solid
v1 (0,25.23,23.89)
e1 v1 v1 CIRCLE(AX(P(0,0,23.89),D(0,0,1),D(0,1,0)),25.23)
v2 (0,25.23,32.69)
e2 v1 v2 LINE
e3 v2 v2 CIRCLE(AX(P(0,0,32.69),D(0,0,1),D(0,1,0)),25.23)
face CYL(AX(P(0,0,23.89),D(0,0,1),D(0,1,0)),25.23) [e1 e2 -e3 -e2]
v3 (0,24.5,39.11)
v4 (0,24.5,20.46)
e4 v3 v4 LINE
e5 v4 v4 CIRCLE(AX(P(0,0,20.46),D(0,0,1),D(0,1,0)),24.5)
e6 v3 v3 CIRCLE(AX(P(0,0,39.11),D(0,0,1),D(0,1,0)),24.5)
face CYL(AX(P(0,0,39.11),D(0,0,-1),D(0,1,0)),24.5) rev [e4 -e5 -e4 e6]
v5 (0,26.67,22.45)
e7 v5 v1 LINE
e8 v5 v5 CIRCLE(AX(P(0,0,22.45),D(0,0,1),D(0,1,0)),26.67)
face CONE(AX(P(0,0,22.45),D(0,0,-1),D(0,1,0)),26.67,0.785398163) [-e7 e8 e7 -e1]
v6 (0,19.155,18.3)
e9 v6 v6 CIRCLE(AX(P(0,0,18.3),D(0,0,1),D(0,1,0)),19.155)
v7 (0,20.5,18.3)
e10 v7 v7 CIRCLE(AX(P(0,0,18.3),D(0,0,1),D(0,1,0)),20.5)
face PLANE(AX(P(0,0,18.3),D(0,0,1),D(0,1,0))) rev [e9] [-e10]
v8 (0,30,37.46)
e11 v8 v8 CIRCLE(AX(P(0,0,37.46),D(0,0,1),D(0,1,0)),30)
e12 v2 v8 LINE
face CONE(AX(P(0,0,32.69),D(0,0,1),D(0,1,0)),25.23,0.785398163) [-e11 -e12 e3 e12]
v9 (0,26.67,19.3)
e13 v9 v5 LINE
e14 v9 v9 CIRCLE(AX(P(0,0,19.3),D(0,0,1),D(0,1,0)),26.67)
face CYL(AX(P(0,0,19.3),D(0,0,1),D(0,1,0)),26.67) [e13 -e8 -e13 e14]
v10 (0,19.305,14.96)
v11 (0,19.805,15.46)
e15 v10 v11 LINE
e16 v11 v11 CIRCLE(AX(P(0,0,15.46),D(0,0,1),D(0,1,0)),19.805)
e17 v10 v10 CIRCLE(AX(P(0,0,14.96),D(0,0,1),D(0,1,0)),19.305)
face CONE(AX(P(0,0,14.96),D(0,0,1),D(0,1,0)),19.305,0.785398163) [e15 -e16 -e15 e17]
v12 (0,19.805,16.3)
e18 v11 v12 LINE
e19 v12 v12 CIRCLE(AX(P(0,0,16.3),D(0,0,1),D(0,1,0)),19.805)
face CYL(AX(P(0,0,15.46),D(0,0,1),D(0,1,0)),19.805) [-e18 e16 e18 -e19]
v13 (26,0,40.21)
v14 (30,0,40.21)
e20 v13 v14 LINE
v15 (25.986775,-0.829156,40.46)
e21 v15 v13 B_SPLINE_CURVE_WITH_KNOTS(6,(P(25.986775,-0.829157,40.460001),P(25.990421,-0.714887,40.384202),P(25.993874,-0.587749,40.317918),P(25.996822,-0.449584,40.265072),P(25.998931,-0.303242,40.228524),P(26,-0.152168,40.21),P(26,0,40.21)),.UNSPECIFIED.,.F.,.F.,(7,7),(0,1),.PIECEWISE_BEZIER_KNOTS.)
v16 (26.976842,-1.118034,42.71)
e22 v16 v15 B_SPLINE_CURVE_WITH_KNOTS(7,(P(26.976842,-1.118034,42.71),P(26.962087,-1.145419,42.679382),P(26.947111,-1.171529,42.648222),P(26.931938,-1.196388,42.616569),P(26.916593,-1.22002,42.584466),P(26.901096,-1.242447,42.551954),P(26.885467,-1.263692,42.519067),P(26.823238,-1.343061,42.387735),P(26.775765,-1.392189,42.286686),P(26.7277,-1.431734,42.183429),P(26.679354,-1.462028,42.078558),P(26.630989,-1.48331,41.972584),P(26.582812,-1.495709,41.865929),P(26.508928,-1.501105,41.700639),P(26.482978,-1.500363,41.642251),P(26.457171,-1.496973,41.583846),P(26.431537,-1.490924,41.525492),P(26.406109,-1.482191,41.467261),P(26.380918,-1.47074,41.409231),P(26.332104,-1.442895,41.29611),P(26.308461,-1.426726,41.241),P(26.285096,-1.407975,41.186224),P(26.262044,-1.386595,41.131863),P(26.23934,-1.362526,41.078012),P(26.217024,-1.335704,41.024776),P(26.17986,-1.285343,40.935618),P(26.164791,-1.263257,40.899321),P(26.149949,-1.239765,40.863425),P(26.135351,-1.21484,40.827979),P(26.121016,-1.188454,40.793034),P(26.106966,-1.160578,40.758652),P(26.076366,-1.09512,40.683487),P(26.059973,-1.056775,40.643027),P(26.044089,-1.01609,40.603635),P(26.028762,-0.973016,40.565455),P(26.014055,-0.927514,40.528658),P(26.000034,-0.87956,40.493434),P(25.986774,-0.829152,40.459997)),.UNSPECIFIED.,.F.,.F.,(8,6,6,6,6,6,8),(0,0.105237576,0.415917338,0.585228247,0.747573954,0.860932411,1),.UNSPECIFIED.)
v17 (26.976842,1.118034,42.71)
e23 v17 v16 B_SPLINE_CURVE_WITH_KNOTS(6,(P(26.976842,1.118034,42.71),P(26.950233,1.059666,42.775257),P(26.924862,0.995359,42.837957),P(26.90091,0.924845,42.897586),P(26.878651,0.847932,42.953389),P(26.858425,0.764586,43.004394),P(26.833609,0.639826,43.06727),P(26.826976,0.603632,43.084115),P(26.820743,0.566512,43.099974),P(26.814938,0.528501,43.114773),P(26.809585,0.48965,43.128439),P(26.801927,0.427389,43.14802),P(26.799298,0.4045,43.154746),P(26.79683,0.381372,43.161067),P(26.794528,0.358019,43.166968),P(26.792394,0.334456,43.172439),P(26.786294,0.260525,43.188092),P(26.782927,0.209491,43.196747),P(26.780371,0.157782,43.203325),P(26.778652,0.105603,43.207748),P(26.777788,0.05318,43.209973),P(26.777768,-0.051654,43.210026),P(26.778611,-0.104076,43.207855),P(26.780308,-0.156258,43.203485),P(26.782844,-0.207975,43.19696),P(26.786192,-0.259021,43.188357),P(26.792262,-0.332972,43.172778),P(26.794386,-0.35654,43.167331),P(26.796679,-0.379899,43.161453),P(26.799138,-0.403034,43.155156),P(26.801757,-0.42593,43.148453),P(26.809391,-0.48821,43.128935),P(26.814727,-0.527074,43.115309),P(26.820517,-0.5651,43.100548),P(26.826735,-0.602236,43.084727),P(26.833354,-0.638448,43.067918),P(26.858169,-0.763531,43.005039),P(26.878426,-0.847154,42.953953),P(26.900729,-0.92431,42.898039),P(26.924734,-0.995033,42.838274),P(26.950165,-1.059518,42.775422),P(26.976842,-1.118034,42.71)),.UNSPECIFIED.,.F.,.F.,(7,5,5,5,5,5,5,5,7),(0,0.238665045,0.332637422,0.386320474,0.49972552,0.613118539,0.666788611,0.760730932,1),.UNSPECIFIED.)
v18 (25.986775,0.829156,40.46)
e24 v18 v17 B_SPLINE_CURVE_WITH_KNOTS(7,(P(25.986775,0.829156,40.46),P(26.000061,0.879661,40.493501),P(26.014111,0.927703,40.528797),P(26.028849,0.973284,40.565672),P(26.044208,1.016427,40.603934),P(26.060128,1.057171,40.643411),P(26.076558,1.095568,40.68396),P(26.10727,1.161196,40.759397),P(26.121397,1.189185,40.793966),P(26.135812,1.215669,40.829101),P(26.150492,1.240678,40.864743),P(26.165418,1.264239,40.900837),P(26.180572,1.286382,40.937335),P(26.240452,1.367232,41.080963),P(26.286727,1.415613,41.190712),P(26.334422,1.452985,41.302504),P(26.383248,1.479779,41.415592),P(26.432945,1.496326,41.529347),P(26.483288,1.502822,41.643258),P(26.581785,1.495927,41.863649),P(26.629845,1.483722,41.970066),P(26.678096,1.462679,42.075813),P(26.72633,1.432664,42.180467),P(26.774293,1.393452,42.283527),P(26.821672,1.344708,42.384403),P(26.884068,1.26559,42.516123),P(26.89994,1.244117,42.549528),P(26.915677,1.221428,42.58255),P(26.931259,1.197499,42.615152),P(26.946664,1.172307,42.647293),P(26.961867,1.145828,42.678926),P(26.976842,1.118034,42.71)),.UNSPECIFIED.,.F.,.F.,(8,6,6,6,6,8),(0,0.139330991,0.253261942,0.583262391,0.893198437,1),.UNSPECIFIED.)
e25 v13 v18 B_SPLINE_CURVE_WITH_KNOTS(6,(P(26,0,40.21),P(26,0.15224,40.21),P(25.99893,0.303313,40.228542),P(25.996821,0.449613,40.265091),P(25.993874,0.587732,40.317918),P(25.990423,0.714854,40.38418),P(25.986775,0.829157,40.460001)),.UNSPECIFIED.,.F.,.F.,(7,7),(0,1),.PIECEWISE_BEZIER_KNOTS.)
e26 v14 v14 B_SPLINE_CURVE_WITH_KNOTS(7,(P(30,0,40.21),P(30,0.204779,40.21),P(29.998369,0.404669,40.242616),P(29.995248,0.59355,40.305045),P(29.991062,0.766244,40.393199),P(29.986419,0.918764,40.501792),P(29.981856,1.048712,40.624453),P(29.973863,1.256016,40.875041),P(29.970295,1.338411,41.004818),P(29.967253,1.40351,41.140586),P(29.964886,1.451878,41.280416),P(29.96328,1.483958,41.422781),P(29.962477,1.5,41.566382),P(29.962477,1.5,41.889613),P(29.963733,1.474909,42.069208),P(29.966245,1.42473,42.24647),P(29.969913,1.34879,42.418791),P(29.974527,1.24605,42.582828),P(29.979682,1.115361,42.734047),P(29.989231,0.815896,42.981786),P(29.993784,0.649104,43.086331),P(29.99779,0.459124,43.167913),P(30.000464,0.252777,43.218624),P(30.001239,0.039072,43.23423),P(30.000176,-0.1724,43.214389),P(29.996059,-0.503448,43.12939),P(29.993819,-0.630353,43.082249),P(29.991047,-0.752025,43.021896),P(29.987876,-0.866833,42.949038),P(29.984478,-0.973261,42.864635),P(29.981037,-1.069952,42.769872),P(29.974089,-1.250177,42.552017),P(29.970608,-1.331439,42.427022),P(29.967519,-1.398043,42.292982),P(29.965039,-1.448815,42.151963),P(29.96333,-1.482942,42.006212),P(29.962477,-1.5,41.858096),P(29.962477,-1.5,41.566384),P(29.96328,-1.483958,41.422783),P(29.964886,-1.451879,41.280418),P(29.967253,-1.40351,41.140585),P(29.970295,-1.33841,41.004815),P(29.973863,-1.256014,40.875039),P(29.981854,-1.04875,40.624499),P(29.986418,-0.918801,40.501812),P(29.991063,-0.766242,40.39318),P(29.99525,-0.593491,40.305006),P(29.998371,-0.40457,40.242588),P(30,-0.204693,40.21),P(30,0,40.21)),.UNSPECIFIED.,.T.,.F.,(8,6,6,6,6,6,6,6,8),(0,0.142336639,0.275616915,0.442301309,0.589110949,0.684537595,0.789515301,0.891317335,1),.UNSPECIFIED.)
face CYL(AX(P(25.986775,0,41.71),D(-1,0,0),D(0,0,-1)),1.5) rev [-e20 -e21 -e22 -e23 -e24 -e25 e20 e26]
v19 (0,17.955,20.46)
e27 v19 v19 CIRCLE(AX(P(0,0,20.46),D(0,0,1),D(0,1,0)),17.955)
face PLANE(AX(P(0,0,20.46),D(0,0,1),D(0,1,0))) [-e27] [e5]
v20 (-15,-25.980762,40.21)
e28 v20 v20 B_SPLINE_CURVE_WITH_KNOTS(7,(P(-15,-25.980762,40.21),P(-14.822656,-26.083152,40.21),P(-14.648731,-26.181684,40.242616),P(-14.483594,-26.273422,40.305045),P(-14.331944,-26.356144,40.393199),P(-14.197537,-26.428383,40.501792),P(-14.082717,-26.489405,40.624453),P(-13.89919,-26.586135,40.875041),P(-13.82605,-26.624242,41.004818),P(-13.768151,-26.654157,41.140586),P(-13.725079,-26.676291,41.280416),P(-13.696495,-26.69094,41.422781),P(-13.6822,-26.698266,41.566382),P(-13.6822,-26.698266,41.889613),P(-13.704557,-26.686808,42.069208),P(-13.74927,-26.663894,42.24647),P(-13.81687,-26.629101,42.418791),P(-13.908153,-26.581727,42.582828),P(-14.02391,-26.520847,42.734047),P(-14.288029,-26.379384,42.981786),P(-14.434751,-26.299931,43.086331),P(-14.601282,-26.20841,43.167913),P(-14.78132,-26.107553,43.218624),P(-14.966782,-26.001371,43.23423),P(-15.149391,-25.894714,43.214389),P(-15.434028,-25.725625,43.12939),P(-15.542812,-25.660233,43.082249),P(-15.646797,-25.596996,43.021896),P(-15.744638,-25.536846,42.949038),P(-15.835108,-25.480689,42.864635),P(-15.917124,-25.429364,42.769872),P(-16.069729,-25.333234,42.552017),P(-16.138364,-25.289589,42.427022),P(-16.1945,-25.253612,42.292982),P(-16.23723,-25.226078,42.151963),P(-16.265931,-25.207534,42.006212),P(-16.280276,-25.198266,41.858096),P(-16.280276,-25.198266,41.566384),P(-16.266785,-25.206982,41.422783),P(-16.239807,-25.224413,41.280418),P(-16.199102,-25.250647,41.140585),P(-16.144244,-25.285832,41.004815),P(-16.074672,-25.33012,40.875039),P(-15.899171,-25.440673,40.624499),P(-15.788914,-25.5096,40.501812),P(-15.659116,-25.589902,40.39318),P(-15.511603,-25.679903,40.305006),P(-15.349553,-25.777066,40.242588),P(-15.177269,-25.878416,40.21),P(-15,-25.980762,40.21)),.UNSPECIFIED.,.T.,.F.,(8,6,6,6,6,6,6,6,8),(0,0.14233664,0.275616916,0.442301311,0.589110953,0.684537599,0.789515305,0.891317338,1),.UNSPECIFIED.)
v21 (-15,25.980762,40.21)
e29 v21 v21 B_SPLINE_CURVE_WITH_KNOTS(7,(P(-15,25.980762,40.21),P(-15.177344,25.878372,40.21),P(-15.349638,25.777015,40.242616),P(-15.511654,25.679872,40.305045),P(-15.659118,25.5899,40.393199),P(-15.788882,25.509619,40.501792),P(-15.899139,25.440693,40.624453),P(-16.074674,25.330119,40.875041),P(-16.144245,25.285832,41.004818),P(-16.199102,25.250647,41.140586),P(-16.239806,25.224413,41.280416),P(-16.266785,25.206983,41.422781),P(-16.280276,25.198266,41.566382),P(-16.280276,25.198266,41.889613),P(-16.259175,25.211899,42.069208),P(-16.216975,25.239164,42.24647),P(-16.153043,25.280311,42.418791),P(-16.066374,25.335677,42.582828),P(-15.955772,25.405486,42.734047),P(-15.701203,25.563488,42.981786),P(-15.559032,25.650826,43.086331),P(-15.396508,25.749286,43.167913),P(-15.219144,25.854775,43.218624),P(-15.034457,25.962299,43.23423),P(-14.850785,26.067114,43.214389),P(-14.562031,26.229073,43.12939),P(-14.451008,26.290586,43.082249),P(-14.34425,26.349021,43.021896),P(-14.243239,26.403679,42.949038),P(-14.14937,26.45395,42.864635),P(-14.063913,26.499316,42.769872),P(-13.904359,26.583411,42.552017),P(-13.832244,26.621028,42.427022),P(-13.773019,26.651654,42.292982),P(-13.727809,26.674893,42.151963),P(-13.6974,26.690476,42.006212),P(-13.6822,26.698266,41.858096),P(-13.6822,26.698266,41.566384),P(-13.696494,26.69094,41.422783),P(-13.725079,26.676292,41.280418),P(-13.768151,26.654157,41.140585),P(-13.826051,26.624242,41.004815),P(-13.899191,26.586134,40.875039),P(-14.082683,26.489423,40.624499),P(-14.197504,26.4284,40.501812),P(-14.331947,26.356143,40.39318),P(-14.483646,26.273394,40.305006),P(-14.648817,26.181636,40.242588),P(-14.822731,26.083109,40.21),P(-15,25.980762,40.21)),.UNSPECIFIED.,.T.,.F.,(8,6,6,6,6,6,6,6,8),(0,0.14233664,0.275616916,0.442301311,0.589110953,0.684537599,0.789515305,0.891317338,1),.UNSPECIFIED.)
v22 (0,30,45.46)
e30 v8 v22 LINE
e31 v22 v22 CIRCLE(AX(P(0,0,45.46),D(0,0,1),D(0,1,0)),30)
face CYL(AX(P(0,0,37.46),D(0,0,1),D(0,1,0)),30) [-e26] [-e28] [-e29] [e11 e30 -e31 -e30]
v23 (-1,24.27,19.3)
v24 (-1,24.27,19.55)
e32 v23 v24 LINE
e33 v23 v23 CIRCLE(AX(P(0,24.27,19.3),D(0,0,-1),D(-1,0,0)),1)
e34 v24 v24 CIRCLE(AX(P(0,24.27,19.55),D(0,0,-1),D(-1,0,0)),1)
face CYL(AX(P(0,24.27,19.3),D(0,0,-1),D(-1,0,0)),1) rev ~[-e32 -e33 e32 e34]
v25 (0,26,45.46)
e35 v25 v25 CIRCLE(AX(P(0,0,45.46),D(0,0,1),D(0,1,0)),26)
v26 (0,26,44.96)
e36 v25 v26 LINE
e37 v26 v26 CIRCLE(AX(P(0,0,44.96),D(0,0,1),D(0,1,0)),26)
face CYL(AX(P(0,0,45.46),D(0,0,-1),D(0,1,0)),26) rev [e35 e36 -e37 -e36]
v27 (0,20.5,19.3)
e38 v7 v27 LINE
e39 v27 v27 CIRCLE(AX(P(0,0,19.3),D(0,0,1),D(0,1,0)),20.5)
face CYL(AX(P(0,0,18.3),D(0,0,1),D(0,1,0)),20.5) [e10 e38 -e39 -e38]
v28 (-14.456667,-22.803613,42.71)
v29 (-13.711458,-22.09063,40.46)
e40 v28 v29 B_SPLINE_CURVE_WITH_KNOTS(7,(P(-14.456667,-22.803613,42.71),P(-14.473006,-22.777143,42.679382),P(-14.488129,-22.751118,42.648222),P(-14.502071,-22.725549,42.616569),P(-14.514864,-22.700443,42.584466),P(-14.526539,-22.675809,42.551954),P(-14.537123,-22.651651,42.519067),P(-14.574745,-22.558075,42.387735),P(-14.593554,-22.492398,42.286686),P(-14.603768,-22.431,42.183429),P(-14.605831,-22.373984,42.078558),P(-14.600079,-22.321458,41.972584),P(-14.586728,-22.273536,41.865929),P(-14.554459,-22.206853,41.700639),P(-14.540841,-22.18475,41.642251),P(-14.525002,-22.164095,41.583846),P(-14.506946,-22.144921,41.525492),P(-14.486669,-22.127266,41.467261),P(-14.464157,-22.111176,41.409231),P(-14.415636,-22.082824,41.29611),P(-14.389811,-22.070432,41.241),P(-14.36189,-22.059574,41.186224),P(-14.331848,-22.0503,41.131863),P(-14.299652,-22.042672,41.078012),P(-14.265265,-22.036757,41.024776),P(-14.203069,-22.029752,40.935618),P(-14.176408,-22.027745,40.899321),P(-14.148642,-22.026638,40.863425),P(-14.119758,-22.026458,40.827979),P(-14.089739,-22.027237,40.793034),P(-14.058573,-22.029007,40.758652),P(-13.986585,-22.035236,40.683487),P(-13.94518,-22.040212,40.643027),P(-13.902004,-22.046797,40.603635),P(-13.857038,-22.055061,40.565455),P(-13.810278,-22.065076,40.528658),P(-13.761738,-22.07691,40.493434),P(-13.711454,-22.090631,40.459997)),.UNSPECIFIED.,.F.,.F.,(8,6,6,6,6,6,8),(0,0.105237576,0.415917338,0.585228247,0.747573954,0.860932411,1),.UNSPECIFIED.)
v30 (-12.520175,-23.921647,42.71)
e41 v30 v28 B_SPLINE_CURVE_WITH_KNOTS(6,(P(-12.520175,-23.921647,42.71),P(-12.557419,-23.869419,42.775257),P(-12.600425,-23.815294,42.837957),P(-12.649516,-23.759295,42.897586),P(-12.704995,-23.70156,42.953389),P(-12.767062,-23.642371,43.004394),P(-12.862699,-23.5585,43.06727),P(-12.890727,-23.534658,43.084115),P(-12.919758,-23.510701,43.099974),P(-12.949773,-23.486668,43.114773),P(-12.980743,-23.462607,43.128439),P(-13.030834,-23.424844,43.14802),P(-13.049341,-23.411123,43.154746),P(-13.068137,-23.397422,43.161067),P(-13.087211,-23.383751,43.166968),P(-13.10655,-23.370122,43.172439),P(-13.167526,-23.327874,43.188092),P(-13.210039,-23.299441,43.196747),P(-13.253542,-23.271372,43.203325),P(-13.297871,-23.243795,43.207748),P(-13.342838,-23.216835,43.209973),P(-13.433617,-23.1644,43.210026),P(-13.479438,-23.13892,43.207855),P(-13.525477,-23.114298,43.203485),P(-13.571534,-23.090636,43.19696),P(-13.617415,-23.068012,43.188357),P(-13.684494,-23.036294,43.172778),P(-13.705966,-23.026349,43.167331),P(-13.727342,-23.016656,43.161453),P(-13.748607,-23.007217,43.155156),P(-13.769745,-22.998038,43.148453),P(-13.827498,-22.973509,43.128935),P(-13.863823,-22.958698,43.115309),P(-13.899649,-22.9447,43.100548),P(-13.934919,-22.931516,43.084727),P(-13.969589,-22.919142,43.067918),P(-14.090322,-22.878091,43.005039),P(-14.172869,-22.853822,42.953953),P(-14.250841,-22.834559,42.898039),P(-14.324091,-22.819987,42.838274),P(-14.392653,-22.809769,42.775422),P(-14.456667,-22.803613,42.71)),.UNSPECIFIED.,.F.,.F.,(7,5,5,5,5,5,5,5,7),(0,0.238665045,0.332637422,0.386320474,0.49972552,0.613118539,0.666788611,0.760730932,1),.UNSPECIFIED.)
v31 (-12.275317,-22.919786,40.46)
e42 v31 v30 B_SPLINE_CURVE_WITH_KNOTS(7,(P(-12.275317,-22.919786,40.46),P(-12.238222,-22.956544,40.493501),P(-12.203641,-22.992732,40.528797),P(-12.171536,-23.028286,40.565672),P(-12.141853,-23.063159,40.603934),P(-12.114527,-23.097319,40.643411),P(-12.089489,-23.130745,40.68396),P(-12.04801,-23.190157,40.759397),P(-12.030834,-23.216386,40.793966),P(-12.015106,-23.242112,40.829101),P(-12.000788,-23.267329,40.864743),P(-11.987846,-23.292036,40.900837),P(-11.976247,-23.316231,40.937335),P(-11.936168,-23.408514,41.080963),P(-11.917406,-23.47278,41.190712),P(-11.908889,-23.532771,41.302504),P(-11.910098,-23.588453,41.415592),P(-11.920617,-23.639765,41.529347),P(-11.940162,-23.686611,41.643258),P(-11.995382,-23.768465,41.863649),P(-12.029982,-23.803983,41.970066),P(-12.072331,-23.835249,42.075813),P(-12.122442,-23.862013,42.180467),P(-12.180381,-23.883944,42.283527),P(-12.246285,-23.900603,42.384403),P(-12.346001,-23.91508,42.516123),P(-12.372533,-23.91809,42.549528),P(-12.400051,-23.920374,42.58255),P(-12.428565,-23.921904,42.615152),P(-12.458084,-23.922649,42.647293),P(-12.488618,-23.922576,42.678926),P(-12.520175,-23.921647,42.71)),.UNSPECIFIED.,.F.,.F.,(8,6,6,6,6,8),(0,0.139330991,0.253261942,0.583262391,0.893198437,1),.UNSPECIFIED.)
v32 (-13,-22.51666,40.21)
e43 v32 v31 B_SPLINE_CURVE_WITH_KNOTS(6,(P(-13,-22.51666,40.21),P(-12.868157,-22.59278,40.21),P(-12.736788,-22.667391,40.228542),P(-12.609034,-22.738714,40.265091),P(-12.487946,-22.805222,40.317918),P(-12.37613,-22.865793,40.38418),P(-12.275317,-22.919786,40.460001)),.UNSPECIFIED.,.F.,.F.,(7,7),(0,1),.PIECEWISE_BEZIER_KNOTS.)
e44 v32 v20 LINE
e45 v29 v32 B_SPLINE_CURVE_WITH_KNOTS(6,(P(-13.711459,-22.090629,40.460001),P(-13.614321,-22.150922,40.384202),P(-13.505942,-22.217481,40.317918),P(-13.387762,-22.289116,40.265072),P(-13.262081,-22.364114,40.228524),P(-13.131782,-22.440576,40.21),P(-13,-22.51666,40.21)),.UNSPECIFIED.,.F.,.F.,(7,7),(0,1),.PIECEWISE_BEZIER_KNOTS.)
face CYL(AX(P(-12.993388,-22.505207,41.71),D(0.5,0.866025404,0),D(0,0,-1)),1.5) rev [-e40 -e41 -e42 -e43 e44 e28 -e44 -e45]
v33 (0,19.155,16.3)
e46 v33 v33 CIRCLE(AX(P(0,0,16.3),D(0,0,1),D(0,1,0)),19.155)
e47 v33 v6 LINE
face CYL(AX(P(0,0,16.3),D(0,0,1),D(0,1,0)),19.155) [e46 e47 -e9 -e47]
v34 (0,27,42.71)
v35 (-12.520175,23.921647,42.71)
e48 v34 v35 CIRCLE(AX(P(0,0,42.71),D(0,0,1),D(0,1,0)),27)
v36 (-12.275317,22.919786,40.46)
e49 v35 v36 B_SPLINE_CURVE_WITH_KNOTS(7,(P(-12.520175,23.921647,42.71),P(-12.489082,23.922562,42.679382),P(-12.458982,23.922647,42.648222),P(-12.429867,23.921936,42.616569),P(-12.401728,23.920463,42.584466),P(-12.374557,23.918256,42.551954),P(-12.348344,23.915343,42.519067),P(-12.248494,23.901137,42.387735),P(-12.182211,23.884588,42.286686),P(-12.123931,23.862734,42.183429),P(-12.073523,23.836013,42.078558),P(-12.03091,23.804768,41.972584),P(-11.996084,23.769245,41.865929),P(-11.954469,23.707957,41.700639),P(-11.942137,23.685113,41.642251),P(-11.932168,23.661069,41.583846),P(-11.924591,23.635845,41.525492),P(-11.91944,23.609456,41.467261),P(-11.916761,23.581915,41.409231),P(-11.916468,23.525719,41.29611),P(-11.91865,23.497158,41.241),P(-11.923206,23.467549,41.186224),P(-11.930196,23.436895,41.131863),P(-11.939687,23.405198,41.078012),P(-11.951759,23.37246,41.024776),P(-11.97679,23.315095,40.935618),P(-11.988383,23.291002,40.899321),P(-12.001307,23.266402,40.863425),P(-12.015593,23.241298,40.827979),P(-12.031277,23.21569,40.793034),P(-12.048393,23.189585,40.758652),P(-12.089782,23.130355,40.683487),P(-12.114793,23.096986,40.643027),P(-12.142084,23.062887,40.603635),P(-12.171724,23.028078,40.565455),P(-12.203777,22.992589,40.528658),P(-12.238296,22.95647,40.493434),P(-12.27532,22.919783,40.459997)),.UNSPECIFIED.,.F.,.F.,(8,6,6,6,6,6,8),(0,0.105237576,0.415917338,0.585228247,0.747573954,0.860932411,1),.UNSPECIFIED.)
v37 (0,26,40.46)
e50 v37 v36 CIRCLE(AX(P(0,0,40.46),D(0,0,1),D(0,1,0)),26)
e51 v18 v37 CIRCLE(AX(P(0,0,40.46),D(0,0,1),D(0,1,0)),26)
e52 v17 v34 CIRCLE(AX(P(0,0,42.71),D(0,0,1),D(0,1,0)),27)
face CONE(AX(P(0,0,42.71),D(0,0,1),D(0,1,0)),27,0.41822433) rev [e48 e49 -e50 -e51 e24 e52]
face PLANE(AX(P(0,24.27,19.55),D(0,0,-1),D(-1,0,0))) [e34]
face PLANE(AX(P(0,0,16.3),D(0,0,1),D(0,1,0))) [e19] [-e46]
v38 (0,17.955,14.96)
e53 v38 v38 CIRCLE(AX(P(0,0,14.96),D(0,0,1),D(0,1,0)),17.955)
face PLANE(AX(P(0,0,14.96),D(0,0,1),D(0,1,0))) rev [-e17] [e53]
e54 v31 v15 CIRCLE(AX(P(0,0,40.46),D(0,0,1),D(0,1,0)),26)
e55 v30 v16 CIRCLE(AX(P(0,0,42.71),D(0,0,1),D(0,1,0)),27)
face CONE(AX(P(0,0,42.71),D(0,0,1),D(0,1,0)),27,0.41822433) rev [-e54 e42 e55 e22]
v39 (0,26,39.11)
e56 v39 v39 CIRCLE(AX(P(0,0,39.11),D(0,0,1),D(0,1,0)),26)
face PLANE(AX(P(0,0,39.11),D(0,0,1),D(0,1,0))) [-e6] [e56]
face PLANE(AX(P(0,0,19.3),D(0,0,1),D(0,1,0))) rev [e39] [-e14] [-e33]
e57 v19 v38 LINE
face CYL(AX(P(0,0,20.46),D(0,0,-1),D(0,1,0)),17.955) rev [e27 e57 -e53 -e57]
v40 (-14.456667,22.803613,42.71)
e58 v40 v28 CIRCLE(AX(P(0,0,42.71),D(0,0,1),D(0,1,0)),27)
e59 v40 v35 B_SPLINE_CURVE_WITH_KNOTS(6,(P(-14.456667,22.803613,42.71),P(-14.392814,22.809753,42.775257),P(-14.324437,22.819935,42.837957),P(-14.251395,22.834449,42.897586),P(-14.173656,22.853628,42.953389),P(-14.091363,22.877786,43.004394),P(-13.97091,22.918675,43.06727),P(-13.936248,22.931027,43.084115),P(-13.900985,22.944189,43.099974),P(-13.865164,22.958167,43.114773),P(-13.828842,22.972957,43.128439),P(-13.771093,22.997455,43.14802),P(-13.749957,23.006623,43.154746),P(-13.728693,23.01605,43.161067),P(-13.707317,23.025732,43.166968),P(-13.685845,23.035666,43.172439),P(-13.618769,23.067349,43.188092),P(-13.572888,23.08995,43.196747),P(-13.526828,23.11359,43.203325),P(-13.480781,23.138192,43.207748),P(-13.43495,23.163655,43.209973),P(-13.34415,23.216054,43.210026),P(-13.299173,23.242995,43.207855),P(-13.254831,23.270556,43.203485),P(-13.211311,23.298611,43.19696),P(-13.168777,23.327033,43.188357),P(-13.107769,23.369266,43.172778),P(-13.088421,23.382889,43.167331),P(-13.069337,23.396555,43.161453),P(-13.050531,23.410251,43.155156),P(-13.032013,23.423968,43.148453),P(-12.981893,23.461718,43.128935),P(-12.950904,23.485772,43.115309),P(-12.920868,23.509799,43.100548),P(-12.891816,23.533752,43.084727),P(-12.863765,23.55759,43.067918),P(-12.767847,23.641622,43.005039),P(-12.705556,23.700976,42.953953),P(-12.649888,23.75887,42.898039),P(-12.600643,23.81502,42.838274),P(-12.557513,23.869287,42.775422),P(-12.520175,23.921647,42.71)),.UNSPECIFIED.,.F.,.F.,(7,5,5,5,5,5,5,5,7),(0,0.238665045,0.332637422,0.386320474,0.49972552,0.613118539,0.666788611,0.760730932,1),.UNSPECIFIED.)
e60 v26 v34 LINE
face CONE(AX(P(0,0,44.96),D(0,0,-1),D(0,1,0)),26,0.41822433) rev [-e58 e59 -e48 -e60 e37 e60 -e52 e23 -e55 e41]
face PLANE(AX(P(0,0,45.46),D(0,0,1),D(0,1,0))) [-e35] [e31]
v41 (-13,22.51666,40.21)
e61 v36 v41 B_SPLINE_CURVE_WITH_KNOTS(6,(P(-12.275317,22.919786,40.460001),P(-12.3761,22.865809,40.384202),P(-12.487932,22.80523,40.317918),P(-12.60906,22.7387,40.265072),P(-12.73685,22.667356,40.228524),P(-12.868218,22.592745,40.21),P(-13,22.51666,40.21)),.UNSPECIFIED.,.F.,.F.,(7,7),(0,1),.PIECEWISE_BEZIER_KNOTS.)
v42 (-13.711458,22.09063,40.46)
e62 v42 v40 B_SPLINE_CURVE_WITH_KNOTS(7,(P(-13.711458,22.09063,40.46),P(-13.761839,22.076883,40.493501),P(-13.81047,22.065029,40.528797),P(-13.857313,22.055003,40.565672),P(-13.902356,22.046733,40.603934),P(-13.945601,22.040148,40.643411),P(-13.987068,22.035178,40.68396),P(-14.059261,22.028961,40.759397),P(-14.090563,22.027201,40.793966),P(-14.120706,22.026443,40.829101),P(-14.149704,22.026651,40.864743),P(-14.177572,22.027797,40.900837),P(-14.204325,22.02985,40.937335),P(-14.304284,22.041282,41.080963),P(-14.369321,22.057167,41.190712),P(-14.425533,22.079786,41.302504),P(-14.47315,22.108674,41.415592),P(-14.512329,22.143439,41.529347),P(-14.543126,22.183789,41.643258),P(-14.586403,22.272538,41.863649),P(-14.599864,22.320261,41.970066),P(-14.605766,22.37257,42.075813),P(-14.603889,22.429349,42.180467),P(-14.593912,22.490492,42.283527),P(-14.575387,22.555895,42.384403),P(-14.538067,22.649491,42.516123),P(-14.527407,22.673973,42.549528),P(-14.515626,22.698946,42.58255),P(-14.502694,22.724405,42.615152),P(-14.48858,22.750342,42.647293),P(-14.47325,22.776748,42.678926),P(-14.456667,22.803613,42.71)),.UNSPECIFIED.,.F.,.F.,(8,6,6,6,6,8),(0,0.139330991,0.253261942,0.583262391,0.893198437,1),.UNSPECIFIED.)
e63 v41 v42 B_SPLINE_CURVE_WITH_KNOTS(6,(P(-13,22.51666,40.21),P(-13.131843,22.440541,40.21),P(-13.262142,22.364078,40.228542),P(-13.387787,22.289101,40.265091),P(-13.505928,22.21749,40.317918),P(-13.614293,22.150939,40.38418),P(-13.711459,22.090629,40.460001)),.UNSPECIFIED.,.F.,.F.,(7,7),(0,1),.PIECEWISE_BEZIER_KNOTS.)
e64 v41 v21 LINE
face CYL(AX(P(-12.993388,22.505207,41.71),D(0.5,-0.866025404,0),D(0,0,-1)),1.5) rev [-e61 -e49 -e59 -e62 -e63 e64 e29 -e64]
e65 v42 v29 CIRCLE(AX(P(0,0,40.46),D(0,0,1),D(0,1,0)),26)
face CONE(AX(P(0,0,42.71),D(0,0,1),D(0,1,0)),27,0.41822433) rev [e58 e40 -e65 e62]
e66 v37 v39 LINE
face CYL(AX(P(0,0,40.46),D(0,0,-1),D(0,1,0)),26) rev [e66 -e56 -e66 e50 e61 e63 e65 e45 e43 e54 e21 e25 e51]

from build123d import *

# Parameters (mm, degrees)
ODEBRAT_START            = 25.986775
SKICA3_R                 = 1.5
ODEBRAT_VYSUNUT_M1_DEPTH = 4.013225
KRUHOV_POLE1_COUNT       = 3
SKICA4_R                 = 1
ODEBRAT_VYSUNUT_M2_DEPTH = 0.25


with BuildPart() as part:
    # Skica2 → Rotovat1 (revolve)
    with BuildSketch(Plane(origin=(0, 0, 0), x_dir=(0, 0, -1), z_dir=(1, 0, 0))):
        Polygon((-14.96, 17.955), (-14.96, 19.305), (-15.46, 19.805), (-16.3, 19.805), (-16.3, 19.155), (-18.3, 19.155), (-18.3, 20.5), (-19.3, 20.5), (-19.3, 26.67), (-22.45, 26.67), (-23.89, 25.23), (-32.69, 25.23), (-37.46, 30), (-45.46, 30), (-45.46, 26), (-44.96, 26), (-42.71, 27), (-40.46, 26), (-39.11, 26), (-39.11, 24.5), (-20.46, 24.5), (-20.46, 17.955), align=None)
    revolve(axis=Axis((0, 0, 0), (0, 0, 1)))

    # Skica3 → Odebrat vysunutím1 (cut)
    with BuildSketch(Plane(origin=(0, 0, 0), x_dir=(0, 0, -1), z_dir=(1, 0, 0)).offset(ODEBRAT_START)):
        with Locations((-41.71, 0)):
            Circle(SKICA3_R)
    odebrat_vysunut_m1 = extrude(amount=ODEBRAT_VYSUNUT_M1_DEPTH, mode=Mode.SUBTRACT)

    # Kruhové pole1: Odebrat vysunutím1 ×3 about axis
    kruhov_pole1_axis = Axis((0, 0, 0), (0, 0, -1))
    for i in range(1, KRUHOV_POLE1_COUNT):
        add(odebrat_vysunut_m1.rotate(kruhov_pole1_axis, i * 360 / KRUHOV_POLE1_COUNT), mode=Mode.SUBTRACT)

    # Skica4 → Odebrat vysunutím2 (cut)
    with BuildSketch(Plane(origin=(0, 0, 19.3), x_dir=(-1, 0, 0), z_dir=(0, 0, -1))):
        with Locations((0, 24.27)):
            Circle(SKICA4_R)
    extrude(amount=-ODEBRAT_VYSUNUT_M2_DEPTH, mode=Mode.SUBTRACT)


solid = part.part
